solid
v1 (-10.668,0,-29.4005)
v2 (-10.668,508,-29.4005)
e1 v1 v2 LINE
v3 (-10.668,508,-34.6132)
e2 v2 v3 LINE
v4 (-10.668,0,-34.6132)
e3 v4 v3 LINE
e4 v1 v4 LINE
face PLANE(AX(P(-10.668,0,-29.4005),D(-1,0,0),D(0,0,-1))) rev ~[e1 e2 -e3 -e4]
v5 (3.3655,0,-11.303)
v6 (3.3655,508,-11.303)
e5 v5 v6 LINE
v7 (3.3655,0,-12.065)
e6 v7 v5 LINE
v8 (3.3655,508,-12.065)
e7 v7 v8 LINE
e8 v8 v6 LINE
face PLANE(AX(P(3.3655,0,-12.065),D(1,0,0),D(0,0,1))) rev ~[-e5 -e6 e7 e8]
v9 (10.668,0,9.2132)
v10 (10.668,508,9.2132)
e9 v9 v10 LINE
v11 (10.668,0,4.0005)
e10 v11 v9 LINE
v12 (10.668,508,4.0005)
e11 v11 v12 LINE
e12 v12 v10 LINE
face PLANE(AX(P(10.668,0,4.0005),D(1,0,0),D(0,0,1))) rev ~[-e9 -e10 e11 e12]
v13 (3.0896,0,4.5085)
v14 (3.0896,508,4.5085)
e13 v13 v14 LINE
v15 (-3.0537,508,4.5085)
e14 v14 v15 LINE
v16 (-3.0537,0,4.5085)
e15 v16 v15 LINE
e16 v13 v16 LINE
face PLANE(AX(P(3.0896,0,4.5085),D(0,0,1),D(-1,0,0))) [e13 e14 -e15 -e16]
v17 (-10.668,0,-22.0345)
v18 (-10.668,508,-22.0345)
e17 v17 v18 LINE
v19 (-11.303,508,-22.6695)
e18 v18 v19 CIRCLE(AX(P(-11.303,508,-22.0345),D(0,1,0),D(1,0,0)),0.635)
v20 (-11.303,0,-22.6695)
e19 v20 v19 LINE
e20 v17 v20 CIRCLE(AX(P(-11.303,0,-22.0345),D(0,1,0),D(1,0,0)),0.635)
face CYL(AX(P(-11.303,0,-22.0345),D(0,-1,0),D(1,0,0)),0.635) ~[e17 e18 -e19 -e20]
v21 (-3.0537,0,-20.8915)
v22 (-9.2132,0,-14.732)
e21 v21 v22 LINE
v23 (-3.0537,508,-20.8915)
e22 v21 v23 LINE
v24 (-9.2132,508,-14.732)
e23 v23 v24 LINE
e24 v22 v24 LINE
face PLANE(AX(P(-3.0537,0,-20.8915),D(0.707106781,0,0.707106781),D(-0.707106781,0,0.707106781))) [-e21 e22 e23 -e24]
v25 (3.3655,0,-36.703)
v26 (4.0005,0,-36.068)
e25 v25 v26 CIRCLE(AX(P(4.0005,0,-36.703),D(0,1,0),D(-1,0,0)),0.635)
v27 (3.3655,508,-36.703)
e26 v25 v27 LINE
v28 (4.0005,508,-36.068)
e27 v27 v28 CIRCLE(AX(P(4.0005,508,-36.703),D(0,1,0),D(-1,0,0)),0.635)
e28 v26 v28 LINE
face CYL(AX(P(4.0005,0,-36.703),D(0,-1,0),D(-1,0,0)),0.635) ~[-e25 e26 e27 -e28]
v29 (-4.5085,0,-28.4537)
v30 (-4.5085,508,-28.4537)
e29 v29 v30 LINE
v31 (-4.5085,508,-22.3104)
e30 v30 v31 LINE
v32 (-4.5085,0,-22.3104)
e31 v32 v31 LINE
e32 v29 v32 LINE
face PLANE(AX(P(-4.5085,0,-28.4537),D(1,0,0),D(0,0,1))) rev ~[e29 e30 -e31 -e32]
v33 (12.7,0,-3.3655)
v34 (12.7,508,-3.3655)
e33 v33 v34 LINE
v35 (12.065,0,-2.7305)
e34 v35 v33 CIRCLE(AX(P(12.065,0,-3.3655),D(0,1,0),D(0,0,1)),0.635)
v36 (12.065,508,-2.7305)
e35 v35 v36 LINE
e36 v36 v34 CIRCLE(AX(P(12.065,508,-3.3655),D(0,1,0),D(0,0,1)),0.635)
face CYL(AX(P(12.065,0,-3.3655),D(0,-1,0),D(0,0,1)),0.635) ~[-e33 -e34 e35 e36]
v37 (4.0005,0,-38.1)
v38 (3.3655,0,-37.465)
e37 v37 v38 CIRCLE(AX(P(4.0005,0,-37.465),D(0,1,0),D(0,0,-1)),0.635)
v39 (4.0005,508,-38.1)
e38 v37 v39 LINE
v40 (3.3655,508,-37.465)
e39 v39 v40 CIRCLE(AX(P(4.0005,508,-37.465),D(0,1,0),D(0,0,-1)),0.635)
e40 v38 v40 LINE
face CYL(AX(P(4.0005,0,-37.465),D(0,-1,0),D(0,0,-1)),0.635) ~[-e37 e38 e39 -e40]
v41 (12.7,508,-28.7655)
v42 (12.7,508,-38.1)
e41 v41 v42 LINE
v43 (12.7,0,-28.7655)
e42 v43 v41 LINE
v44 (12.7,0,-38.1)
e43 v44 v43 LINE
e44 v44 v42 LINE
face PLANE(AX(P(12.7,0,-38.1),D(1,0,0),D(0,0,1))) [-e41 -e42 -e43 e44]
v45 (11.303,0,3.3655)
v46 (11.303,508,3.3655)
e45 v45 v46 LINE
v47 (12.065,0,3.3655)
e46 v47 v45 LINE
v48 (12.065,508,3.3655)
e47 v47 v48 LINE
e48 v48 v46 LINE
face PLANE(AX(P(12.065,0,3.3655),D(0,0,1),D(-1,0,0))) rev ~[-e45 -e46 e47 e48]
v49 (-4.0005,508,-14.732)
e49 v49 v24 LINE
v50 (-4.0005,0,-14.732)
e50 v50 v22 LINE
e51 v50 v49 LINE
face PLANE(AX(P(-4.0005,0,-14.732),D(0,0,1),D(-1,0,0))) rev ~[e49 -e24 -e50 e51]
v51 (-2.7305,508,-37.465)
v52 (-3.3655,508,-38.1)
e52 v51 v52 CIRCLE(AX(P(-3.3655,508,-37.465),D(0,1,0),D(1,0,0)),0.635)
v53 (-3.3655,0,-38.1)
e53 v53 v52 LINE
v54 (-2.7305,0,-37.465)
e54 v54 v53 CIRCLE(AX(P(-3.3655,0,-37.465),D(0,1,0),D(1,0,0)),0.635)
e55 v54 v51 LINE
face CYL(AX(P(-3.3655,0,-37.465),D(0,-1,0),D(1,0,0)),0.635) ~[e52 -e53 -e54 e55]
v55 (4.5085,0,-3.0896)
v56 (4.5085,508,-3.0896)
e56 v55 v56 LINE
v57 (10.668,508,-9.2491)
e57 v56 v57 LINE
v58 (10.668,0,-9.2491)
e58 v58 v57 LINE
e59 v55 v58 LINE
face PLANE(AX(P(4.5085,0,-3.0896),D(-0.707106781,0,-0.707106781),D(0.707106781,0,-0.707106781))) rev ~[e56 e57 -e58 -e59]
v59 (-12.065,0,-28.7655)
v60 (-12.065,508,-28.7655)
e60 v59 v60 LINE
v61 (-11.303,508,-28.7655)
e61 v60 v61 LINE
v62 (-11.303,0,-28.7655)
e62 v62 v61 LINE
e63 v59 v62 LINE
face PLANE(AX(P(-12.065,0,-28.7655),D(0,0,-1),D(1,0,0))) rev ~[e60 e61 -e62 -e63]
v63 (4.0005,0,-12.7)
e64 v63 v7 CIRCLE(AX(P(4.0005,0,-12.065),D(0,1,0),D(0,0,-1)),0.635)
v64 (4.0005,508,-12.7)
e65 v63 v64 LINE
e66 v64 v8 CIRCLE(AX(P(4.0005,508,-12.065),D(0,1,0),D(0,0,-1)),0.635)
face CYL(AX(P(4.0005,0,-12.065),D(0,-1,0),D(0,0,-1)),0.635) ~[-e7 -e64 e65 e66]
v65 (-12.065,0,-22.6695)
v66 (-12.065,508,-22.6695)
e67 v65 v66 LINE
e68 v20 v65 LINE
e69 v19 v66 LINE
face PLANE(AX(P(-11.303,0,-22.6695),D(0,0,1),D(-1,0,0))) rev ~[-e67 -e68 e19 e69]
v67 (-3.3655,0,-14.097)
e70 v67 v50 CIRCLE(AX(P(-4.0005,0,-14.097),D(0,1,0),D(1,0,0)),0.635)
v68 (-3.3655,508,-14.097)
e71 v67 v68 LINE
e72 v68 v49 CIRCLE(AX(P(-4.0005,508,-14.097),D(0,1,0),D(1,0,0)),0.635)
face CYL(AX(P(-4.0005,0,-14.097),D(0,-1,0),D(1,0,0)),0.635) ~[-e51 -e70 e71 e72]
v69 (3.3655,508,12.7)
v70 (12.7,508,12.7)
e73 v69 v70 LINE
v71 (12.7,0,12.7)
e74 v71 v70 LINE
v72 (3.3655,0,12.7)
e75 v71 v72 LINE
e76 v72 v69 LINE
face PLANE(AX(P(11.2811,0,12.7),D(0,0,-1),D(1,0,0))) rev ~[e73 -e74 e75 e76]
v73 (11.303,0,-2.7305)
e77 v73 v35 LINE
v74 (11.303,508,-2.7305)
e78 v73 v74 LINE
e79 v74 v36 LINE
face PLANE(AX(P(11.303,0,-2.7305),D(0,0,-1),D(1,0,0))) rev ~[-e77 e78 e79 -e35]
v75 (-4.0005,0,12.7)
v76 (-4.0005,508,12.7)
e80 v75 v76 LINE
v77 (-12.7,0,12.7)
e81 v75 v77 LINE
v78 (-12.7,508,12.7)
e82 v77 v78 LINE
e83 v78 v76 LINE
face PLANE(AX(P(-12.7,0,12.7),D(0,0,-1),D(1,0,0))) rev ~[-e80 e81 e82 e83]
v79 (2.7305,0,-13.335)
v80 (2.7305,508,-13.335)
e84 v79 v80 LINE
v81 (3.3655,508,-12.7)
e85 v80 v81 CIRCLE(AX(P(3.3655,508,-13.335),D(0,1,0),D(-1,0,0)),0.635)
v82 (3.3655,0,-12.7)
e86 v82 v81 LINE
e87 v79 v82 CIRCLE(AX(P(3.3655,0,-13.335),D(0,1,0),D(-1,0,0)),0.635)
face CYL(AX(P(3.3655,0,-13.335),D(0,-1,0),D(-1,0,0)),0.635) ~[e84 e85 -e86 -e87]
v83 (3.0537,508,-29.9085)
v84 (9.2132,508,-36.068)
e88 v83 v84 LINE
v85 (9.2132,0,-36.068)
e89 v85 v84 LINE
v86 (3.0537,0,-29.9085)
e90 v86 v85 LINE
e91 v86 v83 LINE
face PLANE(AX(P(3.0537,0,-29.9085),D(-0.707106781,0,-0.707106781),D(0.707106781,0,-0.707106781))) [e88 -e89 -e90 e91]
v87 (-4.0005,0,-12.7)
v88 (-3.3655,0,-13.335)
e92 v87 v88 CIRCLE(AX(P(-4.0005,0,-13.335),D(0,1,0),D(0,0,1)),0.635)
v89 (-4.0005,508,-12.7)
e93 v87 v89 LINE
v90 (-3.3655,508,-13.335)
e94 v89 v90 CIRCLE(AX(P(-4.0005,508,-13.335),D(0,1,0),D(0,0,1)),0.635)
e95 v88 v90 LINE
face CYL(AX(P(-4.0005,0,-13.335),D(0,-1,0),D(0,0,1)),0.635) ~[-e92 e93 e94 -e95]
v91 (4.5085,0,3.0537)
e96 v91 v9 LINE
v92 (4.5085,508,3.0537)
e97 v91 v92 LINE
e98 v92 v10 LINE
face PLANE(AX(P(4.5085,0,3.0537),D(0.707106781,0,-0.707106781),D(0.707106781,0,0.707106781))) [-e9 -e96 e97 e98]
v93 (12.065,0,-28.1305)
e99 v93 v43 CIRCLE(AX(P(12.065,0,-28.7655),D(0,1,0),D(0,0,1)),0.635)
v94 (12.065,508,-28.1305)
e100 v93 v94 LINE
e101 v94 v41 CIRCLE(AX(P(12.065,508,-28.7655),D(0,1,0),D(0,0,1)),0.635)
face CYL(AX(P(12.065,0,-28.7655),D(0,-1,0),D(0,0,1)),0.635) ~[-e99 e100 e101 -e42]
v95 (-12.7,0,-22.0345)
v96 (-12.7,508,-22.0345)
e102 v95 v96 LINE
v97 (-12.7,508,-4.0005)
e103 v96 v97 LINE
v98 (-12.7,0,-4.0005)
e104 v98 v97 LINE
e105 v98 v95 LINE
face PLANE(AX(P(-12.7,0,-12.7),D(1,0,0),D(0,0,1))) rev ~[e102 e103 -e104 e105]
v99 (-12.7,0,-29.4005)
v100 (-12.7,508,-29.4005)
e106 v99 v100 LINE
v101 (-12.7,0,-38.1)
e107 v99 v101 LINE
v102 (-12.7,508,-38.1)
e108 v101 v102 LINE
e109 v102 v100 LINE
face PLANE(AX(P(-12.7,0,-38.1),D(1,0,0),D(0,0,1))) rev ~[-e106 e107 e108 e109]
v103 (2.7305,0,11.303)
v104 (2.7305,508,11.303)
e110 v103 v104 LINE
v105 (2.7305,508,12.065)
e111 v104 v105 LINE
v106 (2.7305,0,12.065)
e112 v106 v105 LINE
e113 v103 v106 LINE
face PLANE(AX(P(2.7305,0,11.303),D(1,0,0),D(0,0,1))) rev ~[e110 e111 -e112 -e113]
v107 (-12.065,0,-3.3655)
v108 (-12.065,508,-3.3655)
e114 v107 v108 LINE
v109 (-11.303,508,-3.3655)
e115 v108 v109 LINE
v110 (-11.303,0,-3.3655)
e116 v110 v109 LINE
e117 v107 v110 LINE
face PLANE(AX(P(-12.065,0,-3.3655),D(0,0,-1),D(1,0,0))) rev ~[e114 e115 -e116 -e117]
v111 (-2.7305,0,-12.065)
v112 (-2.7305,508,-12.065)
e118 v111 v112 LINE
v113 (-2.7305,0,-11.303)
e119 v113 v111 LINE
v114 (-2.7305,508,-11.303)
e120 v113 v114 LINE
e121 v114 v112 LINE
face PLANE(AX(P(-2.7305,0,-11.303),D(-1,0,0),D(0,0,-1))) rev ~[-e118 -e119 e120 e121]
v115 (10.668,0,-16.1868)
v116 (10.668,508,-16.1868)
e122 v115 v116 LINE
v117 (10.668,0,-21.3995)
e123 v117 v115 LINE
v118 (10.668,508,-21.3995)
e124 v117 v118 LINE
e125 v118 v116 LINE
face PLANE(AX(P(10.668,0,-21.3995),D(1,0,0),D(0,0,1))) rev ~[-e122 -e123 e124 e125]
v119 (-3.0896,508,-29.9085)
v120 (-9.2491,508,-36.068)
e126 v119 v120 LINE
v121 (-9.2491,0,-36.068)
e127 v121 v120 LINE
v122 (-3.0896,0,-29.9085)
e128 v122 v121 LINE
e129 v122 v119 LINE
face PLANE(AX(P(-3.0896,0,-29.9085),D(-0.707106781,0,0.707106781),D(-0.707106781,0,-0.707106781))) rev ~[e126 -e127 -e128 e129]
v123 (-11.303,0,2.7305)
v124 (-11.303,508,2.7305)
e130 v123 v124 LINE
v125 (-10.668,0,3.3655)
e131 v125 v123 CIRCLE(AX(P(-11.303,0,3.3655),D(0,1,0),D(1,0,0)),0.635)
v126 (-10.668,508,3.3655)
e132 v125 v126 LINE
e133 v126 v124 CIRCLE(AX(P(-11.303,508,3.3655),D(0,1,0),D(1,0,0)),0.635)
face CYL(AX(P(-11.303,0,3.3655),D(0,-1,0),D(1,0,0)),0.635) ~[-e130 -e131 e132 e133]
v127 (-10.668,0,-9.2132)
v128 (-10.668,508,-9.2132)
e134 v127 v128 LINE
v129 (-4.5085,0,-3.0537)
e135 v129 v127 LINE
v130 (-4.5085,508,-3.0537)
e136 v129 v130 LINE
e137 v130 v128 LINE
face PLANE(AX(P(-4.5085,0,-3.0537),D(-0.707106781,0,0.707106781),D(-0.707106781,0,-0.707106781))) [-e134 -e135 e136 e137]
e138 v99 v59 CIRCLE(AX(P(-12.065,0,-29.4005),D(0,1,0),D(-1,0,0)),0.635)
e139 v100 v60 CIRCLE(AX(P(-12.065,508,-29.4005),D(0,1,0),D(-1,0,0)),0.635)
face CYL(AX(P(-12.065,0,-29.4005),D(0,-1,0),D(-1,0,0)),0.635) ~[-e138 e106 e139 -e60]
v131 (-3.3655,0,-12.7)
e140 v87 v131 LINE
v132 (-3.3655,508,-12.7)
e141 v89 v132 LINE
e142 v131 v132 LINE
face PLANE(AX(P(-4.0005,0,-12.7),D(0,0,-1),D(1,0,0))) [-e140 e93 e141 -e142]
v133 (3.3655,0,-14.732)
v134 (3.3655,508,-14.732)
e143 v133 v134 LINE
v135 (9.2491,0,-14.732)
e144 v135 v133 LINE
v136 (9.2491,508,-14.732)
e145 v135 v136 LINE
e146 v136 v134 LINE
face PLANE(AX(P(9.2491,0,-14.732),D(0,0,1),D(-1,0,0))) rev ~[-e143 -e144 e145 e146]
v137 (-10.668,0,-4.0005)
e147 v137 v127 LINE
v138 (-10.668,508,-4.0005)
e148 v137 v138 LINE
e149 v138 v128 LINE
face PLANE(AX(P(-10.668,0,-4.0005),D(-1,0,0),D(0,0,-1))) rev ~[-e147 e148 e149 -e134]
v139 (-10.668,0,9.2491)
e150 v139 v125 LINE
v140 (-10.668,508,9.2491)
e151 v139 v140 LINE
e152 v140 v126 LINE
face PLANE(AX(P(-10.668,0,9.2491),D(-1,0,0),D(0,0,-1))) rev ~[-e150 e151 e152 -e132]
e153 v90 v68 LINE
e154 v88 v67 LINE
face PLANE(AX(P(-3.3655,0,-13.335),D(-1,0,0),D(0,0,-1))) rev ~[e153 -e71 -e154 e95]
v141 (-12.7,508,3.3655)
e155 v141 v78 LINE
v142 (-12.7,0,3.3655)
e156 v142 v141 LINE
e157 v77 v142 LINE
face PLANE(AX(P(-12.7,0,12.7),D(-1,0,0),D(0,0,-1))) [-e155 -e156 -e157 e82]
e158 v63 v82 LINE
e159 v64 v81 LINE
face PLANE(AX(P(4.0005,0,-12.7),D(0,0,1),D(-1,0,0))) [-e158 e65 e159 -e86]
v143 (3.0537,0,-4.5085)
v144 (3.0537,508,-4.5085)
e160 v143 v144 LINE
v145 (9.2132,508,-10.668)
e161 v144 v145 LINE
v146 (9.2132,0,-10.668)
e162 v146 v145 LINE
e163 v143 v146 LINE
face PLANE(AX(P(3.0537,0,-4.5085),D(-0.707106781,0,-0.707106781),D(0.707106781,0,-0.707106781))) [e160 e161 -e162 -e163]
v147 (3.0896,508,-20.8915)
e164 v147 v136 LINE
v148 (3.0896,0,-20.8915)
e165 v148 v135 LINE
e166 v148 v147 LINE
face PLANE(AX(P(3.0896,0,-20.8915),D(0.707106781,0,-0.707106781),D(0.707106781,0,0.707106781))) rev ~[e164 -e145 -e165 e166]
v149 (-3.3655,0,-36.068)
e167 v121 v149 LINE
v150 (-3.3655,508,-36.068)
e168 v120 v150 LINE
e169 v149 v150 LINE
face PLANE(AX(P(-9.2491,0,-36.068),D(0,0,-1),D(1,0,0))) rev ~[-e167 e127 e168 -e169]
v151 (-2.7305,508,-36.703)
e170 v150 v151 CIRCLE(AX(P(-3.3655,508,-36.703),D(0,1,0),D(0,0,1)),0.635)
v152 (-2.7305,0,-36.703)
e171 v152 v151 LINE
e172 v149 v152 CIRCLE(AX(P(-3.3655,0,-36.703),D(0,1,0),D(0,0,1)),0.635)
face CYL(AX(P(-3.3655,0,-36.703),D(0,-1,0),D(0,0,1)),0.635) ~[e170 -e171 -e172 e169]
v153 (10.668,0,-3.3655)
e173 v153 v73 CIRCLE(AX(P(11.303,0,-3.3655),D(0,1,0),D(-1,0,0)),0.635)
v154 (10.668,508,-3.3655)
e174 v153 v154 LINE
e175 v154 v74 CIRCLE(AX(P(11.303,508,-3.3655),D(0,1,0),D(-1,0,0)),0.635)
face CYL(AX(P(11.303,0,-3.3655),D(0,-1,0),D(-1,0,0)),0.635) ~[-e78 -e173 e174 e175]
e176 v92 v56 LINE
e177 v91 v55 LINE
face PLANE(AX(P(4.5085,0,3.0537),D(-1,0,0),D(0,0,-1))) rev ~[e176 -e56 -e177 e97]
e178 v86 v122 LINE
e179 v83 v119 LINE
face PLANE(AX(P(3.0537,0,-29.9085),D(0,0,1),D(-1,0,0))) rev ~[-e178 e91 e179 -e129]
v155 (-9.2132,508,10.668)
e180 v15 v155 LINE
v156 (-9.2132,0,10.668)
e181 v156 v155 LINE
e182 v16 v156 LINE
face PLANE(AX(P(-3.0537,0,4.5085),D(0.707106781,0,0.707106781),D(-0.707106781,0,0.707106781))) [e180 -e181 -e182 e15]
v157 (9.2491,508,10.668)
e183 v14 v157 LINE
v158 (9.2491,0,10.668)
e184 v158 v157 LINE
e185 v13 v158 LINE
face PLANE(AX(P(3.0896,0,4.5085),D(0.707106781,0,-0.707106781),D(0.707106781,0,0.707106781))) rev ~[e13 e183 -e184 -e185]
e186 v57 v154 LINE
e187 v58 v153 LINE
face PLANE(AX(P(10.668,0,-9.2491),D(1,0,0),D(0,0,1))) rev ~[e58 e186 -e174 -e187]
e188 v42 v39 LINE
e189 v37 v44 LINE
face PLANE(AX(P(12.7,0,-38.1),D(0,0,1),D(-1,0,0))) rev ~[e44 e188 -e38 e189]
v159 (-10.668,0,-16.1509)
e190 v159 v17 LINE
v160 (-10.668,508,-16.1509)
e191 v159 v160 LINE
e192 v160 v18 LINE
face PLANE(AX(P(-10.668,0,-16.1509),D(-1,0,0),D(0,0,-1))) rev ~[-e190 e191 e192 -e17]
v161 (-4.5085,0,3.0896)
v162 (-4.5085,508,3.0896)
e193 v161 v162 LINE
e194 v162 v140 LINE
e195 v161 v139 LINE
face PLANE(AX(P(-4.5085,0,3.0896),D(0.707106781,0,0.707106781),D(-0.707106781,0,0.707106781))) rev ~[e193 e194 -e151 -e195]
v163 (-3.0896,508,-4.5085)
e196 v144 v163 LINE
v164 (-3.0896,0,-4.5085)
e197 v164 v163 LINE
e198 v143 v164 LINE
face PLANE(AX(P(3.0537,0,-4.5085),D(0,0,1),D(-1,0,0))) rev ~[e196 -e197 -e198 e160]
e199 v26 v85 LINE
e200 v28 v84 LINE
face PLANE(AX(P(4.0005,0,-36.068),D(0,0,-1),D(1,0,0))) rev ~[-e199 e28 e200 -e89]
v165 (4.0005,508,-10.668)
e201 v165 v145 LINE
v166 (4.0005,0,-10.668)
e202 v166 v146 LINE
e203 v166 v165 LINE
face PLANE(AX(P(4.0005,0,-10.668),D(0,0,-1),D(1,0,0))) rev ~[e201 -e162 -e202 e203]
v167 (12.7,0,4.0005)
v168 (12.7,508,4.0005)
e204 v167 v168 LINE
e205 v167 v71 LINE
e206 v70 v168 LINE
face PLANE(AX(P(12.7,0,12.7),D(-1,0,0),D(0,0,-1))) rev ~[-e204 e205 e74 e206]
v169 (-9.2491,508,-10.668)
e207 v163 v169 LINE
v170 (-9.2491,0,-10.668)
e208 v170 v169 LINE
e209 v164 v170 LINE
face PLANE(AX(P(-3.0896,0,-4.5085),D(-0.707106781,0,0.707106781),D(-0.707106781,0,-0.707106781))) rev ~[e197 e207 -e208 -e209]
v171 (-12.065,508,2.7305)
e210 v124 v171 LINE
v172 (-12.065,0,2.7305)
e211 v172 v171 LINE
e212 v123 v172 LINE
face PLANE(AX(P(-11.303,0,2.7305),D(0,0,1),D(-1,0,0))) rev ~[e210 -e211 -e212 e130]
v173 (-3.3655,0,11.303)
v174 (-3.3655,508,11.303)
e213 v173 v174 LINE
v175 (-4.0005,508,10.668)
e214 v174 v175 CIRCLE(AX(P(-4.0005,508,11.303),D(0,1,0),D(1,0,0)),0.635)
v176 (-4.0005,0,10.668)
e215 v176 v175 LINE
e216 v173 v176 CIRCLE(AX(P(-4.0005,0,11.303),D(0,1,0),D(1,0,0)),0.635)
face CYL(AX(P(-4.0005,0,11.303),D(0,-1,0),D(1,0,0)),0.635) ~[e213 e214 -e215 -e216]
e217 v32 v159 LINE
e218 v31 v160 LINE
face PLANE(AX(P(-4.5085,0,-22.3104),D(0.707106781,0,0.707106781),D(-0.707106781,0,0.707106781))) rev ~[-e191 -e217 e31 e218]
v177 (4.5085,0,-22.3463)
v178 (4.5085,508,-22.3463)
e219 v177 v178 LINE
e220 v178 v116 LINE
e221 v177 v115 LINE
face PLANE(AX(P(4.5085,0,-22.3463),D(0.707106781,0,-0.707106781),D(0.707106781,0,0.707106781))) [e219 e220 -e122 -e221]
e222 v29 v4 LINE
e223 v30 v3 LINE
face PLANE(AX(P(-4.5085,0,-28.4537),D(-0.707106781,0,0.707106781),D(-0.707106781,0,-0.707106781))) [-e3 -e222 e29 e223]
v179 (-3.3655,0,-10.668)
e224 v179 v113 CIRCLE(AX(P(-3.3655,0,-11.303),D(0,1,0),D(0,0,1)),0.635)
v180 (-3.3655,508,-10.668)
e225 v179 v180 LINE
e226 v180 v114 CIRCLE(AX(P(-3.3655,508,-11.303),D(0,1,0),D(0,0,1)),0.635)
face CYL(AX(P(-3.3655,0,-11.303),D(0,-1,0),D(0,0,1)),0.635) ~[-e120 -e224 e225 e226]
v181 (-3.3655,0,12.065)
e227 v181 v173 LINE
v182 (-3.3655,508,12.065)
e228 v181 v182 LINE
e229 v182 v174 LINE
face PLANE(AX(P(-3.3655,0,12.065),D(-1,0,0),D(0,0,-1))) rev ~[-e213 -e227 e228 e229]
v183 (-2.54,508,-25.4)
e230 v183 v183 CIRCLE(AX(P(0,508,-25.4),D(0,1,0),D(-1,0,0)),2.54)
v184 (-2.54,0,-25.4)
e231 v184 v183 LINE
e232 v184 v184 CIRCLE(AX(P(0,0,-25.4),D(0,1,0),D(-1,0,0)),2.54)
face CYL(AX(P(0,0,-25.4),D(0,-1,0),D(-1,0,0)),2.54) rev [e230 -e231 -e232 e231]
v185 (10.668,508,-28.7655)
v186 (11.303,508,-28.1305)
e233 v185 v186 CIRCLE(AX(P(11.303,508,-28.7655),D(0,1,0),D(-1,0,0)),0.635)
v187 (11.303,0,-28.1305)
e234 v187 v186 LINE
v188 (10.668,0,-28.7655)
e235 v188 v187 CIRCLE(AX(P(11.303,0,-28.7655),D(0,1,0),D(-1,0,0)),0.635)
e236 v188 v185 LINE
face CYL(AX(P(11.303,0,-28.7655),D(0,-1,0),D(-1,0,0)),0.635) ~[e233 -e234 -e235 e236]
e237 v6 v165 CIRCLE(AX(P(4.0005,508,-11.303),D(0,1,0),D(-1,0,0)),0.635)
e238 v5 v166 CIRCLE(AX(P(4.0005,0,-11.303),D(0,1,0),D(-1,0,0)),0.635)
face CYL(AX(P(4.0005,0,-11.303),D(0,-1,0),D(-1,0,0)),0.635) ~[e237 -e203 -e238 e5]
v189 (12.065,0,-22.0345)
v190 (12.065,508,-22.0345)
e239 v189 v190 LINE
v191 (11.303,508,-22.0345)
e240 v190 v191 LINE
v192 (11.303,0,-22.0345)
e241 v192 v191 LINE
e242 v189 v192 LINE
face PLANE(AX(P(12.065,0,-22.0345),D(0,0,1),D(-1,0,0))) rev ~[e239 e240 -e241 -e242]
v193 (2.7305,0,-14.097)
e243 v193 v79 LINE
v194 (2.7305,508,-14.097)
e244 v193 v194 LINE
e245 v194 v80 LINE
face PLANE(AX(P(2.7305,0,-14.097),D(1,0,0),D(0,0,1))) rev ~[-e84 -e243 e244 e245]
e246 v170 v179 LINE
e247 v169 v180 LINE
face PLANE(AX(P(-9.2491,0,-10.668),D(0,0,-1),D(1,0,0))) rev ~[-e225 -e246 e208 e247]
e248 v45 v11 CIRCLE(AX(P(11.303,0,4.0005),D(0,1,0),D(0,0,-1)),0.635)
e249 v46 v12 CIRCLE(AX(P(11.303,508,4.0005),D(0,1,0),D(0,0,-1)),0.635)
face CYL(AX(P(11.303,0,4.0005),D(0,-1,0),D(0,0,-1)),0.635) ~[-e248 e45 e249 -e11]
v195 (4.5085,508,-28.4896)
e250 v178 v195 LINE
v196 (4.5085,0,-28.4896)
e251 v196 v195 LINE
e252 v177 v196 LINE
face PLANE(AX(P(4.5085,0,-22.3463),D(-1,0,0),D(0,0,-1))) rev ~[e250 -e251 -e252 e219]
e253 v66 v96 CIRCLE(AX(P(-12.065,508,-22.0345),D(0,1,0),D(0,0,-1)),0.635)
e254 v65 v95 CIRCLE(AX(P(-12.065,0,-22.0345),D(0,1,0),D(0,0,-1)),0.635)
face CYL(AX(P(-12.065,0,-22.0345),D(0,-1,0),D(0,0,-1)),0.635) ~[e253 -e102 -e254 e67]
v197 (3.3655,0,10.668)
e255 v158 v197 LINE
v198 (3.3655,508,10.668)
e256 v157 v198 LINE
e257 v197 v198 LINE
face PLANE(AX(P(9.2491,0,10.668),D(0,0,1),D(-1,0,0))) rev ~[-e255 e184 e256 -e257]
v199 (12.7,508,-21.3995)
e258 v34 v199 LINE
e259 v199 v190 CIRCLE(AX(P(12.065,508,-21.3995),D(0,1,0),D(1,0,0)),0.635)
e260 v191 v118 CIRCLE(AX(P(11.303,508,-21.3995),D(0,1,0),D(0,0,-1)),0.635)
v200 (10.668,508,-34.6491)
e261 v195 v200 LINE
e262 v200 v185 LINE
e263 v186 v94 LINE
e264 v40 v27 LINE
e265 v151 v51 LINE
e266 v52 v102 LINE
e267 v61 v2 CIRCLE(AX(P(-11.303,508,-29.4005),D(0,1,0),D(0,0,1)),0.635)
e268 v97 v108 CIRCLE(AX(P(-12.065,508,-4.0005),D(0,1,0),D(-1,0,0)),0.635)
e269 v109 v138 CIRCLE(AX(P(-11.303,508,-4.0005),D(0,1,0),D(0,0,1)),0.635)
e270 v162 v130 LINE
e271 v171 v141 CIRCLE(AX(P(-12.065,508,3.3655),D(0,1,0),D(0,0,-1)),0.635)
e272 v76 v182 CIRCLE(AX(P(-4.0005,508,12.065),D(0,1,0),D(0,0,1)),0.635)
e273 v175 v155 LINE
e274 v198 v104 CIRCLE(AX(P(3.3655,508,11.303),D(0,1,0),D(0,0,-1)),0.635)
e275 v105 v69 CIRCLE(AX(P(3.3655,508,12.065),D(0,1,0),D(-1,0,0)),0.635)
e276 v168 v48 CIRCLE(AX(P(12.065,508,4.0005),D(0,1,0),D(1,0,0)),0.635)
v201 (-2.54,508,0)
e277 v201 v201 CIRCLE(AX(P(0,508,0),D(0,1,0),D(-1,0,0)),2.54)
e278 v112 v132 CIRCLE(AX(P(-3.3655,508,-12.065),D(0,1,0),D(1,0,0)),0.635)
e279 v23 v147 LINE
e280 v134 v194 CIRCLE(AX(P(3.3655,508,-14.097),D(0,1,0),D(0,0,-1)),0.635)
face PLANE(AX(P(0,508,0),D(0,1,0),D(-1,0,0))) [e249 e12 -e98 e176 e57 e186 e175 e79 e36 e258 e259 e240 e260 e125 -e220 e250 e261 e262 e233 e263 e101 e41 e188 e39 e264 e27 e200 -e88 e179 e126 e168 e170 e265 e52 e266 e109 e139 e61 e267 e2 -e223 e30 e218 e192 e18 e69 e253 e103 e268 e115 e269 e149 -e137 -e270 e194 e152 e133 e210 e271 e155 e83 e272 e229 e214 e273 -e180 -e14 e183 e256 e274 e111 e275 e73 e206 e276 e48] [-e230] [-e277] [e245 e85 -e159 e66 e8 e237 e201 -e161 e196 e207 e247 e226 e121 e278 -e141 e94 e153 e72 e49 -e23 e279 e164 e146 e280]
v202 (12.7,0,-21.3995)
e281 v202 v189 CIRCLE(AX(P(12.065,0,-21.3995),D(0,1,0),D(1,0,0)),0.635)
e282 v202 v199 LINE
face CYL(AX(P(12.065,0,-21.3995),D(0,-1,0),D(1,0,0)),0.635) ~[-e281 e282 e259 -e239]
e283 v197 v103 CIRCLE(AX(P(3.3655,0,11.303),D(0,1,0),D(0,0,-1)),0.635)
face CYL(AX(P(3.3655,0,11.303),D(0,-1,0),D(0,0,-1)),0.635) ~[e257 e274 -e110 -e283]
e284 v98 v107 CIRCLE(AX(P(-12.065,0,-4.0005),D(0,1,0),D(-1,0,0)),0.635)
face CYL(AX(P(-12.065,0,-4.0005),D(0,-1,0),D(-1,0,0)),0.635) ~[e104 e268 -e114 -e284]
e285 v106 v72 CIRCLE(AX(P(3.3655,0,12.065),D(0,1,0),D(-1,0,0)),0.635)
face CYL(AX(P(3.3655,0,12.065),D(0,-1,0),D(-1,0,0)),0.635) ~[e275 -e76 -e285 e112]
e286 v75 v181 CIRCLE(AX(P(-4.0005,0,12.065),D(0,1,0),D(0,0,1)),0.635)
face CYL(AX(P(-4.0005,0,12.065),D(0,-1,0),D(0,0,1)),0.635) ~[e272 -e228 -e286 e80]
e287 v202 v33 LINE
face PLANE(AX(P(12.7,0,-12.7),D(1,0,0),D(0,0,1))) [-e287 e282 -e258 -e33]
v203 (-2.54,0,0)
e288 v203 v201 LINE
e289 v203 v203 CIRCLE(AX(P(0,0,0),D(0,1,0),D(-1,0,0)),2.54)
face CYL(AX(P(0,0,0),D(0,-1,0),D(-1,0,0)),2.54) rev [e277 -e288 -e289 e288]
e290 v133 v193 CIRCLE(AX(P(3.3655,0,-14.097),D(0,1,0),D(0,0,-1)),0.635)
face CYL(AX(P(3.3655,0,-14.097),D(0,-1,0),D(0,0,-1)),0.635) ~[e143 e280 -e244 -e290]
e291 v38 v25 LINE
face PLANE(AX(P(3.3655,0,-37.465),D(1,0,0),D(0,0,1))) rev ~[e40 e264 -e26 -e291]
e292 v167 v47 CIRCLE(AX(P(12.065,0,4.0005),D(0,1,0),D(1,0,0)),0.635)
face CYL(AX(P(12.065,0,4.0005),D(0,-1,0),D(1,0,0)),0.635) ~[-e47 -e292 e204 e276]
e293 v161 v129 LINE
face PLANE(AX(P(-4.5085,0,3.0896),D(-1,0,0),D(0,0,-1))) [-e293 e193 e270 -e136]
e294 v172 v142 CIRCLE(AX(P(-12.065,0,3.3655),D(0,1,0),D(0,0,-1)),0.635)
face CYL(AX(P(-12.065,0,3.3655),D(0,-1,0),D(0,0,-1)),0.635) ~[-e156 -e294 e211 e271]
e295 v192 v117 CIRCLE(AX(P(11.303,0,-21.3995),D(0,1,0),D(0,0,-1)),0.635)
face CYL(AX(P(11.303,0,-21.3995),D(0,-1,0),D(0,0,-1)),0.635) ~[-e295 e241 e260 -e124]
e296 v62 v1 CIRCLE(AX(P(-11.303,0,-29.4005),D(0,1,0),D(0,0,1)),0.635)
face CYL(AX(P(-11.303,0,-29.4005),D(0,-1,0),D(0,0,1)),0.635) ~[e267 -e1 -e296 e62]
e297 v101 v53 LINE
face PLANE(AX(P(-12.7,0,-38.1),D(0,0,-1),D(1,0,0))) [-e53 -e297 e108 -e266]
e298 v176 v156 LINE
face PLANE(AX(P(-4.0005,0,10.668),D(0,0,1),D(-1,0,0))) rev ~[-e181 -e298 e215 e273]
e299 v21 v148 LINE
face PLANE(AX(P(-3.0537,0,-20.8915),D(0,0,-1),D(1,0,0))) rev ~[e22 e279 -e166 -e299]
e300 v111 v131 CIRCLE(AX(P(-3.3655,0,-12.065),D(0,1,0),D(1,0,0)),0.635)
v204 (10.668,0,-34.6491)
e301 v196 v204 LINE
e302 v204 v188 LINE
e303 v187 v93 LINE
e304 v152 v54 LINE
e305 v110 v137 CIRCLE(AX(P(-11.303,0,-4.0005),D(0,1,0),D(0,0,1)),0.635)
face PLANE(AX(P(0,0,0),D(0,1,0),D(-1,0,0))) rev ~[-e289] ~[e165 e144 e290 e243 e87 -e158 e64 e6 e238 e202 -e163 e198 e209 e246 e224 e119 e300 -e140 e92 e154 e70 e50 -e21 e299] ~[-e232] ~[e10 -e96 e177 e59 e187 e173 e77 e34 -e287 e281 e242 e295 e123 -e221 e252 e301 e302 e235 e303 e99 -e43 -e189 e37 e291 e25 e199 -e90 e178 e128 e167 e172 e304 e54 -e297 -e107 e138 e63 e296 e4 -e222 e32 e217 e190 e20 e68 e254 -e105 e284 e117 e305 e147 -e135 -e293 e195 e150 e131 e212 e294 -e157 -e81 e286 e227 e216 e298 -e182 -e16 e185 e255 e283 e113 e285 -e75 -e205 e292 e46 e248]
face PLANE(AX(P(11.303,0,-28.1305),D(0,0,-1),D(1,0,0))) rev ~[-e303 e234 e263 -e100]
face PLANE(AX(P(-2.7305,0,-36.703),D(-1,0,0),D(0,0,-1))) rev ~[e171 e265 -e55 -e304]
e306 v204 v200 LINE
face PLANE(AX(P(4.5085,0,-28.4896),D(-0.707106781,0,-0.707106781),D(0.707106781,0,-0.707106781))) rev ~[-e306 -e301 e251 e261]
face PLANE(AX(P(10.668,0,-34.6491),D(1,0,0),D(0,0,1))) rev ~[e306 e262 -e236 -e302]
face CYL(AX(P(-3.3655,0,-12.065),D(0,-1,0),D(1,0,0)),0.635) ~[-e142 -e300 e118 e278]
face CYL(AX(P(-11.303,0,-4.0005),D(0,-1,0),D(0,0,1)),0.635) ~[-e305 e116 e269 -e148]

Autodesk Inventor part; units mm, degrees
ref_plane "YZ Plane" through (0, 0, 0) normal (1, 0, 0) x (0, 1, 0)
ref_plane "XZ Plane" through (0, 0, 0) normal (0, 1, 0) x (-1, 0, 0)
ref_plane "XY Plane" through (0, 0, 0) normal (0, 0, 1) x (1, 0, 0)
sketch "Sketch1" plane through (0, 0, 0) normal (0, 1, 0) x (-1, 0, 0)
  circle A0 centre (0, 0) radius 2.54
  line L0 (-4.5085, 4.5085) -> (4.5085, 4.5085)
  line L1 (-4.5085, -4.5085) -> (4.5085, -4.5085)
  line L2 (4.5085, 4.5085) -> (4.5085, -4.5085)
  line L3 (-4.5085, 4.5085) -> (-4.5085, -4.5085)
  line L4 (-3.0896, 4.5085) -> (-11.2811, 12.7)
  line L5 (-4.5085, 3.0537) -> (-12.7, 11.2452)
  line L6 (12.7, 12.7) -> (-12.7, 12.7)
  line L7 (-12.7, 12.7) -> (-12.7, 4.0005)
  line L8 (-10.668, 4.0005) -> (-10.668, 9.2132)
  line L9 (-9.2491, 10.668) -> (-3.3655, 10.668)
  line L10 (-12.7, 12.7) -> (-3.3655, 12.7)
  line L11 (-2.7305, 11.303) -> (-2.7305, 12.065)
  line L12 (-12.065, 3.3655) -> (-11.303, 3.3655)
  arc A1 (-12.7, 4.0005) -> (-12.065, 3.3655) centre (-12.065, 4.0005) ccw
  arc A2 (-11.303, 3.3655) -> (-10.668, 4.0005) centre (-11.303, 4.0005) ccw
  arc A3 (-3.3655, 10.668) -> (-2.7305, 11.303) centre (-3.3655, 11.303) ccw
  arc A4 (-2.7305, 12.065) -> (-3.3655, 12.7) centre (-3.3655, 12.065) ccw
  arc A5 (-3.3655, -11.303) -> (-4.0005, -10.668) centre (-4.0005, -11.303) ccw
  line L13 (-3.3655, -12.065) -> (-3.3655, -11.303)
  arc A6 (-4.0005, -12.7) -> (-3.3655, -12.065) centre (-4.0005, -12.065) ccw
  line L14 (-3.0537, -4.5085) -> (-11.2452, -12.7)
  line L15 (-10.668, -9.2491) -> (-10.668, -3.3655)
  line L16 (-4.5085, -3.0896) -> (-12.7, -11.2811)
  line L17 (-12.7, -12.7) -> (-12.7, -3.3655)
  arc A7 (-10.668, -3.3655) -> (-11.303, -2.7305) centre (-11.303, -3.3655) ccw
  line L18 (-11.303, -2.7305) -> (-12.065, -2.7305)
  arc A8 (-12.065, -2.7305) -> (-12.7, -3.3655) centre (-12.065, -3.3655) ccw
  line L19 (-4.0005, -10.668) -> (-9.2132, -10.668)
  line L20 (-12.7, -12.7) -> (-4.0005, -12.7)
  arc A9 (11.303, -3.3655) -> (10.668, -4.0005) centre (11.303, -4.0005) ccw
  line L21 (12.065, -3.3655) -> (11.303, -3.3655)
  arc A10 (12.7, -4.0005) -> (12.065, -3.3655) centre (12.065, -4.0005) ccw
  line L22 (4.5085, -3.0537) -> (12.7, -11.2452)
  line L23 (9.2491, -10.668) -> (3.3655, -10.668)
  line L24 (3.0896, -4.5085) -> (11.2811, -12.7)
  line L25 (12.7, -12.7) -> (3.3655, -12.7)
  arc A11 (3.3655, -10.668) -> (2.7305, -11.303) centre (3.3655, -11.303) ccw
  line L26 (2.7305, -11.303) -> (2.7305, -12.065)
  arc A12 (2.7305, -12.065) -> (3.3655, -12.7) centre (3.3655, -12.065) ccw
  line L27 (10.668, -4.0005) -> (10.668, -9.2132)
  line L28 (12.7, -12.7) -> (12.7, -4.0005)
  arc A13 (3.3655, 11.303) -> (4.0005, 10.668) centre (4.0005, 11.303) ccw
  line L29 (3.3655, 12.065) -> (3.3655, 11.303)
  arc A14 (4.0005, 12.7) -> (3.3655, 12.065) centre (4.0005, 12.065) ccw
  line L30 (3.0537, 4.5085) -> (11.2452, 12.7)
  line L31 (10.668, 9.2491) -> (10.668, 3.3655)
  line L32 (4.5085, 3.0896) -> (12.7, 11.2811)
  line L33 (12.7, 12.7) -> (12.7, 3.3655)
  arc A15 (10.668, 3.3655) -> (11.303, 2.7305) centre (11.303, 3.3655) ccw
  line L34 (11.303, 2.7305) -> (12.065, 2.7305)
  arc A16 (12.065, 2.7305) -> (12.7, 3.3655) centre (12.065, 3.3655) ccw
  line L35 (4.0005, 10.668) -> (9.2132, 10.668)
  line L36 (12.7, 12.7) -> (4.0005, 12.7)
  line L37 (-4.5085, 3.0537) -> (-4.5085, 4.5085)
  line L38 (-3.0896, 4.5085) -> (-4.5085, 4.5085)
  line L39 (-12.7, -12.7) -> (-4.0005, -12.7)
  line L40 (-4.0005, -10.668) -> (-9.2132, -10.668)
  line L41 (-10.668, -9.2491) -> (-10.668, -3.3655)
  line L42 (-12.7, -12.7) -> (-12.7, -3.3655)
  line L43 (-11.303, -2.7305) -> (-12.065, -2.7305)
  arc A17 (-10.668, -3.3655) -> (-11.303, -2.7305) centre (-11.303, -3.3655) ccw
  arc A18 (-12.065, -2.7305) -> (-12.7, -3.3655) centre (-12.065, -3.3655) ccw
  line L44 (-4.5085, -3.0896) -> (-4.5085, -4.5085)
  line L45 (-4.5085, -3.0896) -> (-12.7, -11.2811)
  line L46 (-3.0537, -4.5085) -> (-4.5085, -4.5085)
  line L47 (-3.0537, -4.5085) -> (-11.2452, -12.7)
  line L48 (-4.5085, -4.5085) -> (-4.5085, 4.5085)
  circle A19 centre (0, 0) radius 2.54
  line L49 (-4.5085, -4.5085) -> (4.5085, -4.5085)
  line L50 (-3.3655, -12.065) -> (-3.3655, -11.303)
  arc A20 (-4.0005, -12.7) -> (-3.3655, -12.065) centre (-4.0005, -12.065) ccw
  arc A21 (-3.3655, -11.303) -> (-4.0005, -10.668) centre (-4.0005, -11.303) ccw
  line L51 (12.7, -12.7) -> (12.7, -4.0005)
  line L52 (10.668, -4.0005) -> (10.668, -9.2132)
  line L53 (9.2491, -10.668) -> (3.3655, -10.668)
  line L54 (12.7, -12.7) -> (3.3655, -12.7)
  line L55 (2.7305, -11.303) -> (2.7305, -12.065)
  arc A22 (3.3655, -10.668) -> (2.7305, -11.303) centre (3.3655, -11.303) ccw
  arc A23 (2.7305, -12.065) -> (3.3655, -12.7) centre (3.3655, -12.065) ccw
  line L56 (3.0896, -4.5085) -> (4.5085, -4.5085)
  line L57 (3.0896, -4.5085) -> (11.2811, -12.7)
  line L58 (4.5085, -3.0537) -> (4.5085, -4.5085)
  line L59 (4.5085, -3.0537) -> (12.7, -11.2452)
  line L60 (4.5085, -4.5085) -> (-4.5085, -4.5085)
  circle A24 centre (0, 0) radius 2.54
  line L61 (4.5085, -4.5085) -> (4.5085, 4.5085)
  line L62 (12.065, -3.3655) -> (11.303, -3.3655)
  arc A25 (12.7, -4.0005) -> (12.065, -3.3655) centre (12.065, -4.0005) ccw
  arc A26 (11.303, -3.3655) -> (10.668, -4.0005) centre (11.303, -4.0005) ccw
  line L63 (12.7, 12.7) -> (4.0005, 12.7)
  line L64 (4.0005, 10.668) -> (9.2132, 10.668)
  line L65 (10.668, 9.2491) -> (10.668, 3.3655)
  line L66 (12.7, 12.7) -> (12.7, 3.3655)
  line L67 (11.303, 2.7305) -> (12.065, 2.7305)
  arc A27 (10.668, 3.3655) -> (11.303, 2.7305) centre (11.303, 3.3655) ccw
  arc A28 (12.065, 2.7305) -> (12.7, 3.3655) centre (12.065, 3.3655) ccw
  line L68 (4.5085, 3.0896) -> (4.5085, 4.5085)
  line L69 (4.5085, 3.0896) -> (12.7, 11.2811)
  line L70 (3.0537, 4.5085) -> (4.5085, 4.5085)
  line L71 (3.0537, 4.5085) -> (11.2452, 12.7)
  line L72 (4.5085, 4.5085) -> (4.5085, -4.5085)
  circle A29 centre (0, 0) radius 2.54
  line L73 (4.5085, 4.5085) -> (-4.5085, 4.5085)
  line L74 (3.3655, 12.065) -> (3.3655, 11.303)
  arc A30 (4.0005, 12.7) -> (3.3655, 12.065) centre (4.0005, 12.065) ccw
  arc A31 (3.3655, 11.303) -> (4.0005, 10.668) centre (4.0005, 11.303) ccw
  line L75 (4.0005, -14.732) -> (9.2132, -14.732)
  line L76 (4.0005, -14.732) -> (9.2132, -14.732)
  arc A32 (3.3655, -14.097) -> (4.0005, -14.732) centre (4.0005, -14.097) ccw
  arc A33 (3.3655, -14.097) -> (4.0005, -14.732) centre (4.0005, -14.097) ccw
  line L77 (3.3655, -13.335) -> (3.3655, -14.097)
  line L78 (3.3655, -13.335) -> (3.3655, -14.097)
  line L79 (10.668, -16.1509) -> (10.668, -22.0345)
  line L80 (10.668, -16.1509) -> (10.668, -22.0345)
  line L81 (3.0537, -20.8915) -> (11.2452, -12.7)
  line L82 (3.0537, -20.8915) -> (11.2452, -12.7)
  line L83 (4.5085, -22.3104) -> (12.7, -14.1189)
  line L84 (4.5085, -22.3104) -> (12.7, -14.1189)
  line L85 (12.7, -12.7) -> (12.7, -22.0345)
  line L86 (12.7, -12.7) -> (12.7, -22.0345)
  line L87 (12.7, -12.7) -> (4.0005, -12.7)
  line L88 (12.7, -12.7) -> (4.0005, -12.7)
  circle A34 centre (0, -25.4) radius 2.54
  circle A35 centre (0, -25.4) radius 2.54
  circle A36 centre (0, -25.4) radius 2.54
  circle A37 centre (0, -25.4) radius 2.54
  line L89 (4.5085, -20.8915) -> (-4.5085, -20.8915)
  line L90 (-4.5085, -20.8915) -> (4.5085, -20.8915)
  line L91 (-4.5085, -20.8915) -> (-4.5085, -29.9085)
  line L92 (-4.5085, -29.9085) -> (-4.5085, -20.8915)
  line L93 (3.0537, -20.8915) -> (4.5085, -20.8915)
  line L94 (4.5085, -29.9085) -> (4.5085, -20.8915)
  line L95 (4.5085, -20.8915) -> (4.5085, -29.9085)
  line L96 (4.5085, -20.8915) -> (4.5085, -29.9085)
  line L97 (-4.5085, -28.4896) -> (-4.5085, -29.9085)
  line L98 (-3.0537, -29.9085) -> (-4.5085, -29.9085)
  line L99 (-4.5085, -29.9085) -> (4.5085, -29.9085)
  line L100 (4.5085, -29.9085) -> (-4.5085, -29.9085)
  line L101 (-4.5085, -29.9085) -> (4.5085, -29.9085)
  line L102 (4.5085, -22.3104) -> (4.5085, -20.8915)
  line L103 (-4.5085, -22.3463) -> (-4.5085, -20.8915)
  arc A38 (-4.0005, -38.1) -> (-3.3655, -37.465) centre (-4.0005, -37.465) ccw
  arc A39 (-4.0005, -38.1) -> (-3.3655, -37.465) centre (-4.0005, -37.465) ccw
  line L104 (-10.668, -34.6491) -> (-10.668, -28.7655)
  line L105 (-10.668, -34.6491) -> (-10.668, -28.7655)
  line L106 (-3.3655, -37.465) -> (-3.3655, -36.703)
  line L107 (-3.3655, -37.465) -> (-3.3655, -36.703)
  arc A40 (-3.3655, -36.703) -> (-4.0005, -36.068) centre (-4.0005, -36.703) ccw
  arc A41 (-3.3655, -36.703) -> (-4.0005, -36.068) centre (-4.0005, -36.703) ccw
  line L108 (-12.7, -38.1) -> (-4.0005, -38.1)
  line L109 (-12.7, -38.1) -> (-4.0005, -38.1)
  line L110 (-3.0537, -29.9085) -> (-11.2452, -38.1)
  line L111 (-3.0537, -29.9085) -> (-11.2452, -38.1)
  line L112 (-4.5085, -28.4896) -> (-12.7, -36.6811)
  line L113 (-4.5085, -28.4896) -> (-12.7, -36.6811)
  line L114 (-12.7, -38.1) -> (-12.7, -28.7655)
  line L115 (-12.7, -38.1) -> (-12.7, -28.7655)
  line L116 (-4.0005, -36.068) -> (-9.2132, -36.068)
  line L117 (-4.0005, -36.068) -> (-9.2132, -36.068)
  line L118 (12.065, -28.7655) -> (11.303, -28.7655)
  line L119 (12.065, -28.7655) -> (11.303, -28.7655)
  arc A42 (11.303, -28.7655) -> (10.668, -29.4005) centre (11.303, -29.4005) ccw
  arc A43 (11.303, -28.7655) -> (10.668, -29.4005) centre (11.303, -29.4005) ccw
  line L120 (10.668, -29.4005) -> (10.668, -34.6132)
  line L121 (10.668, -29.4005) -> (10.668, -34.6132)
  line L122 (12.7, -38.1) -> (12.7, -29.4005)
  line L123 (12.7, -38.1) -> (12.7, -29.4005)
  line L124 (4.5085, -28.4537) -> (12.7, -36.6452)
  line L125 (4.5085, -28.4537) -> (12.7, -36.6452)
  line L126 (3.0896, -29.9085) -> (11.2811, -38.1)
  line L127 (3.0896, -29.9085) -> (11.2811, -38.1)
  line L128 (12.7, -38.1) -> (3.3655, -38.1)
  line L129 (12.7, -38.1) -> (3.3655, -38.1)
  line L130 (9.2491, -36.068) -> (3.3655, -36.068)
  line L131 (9.2491, -36.068) -> (3.3655, -36.068)
  arc A44 (12.7, -29.4005) -> (12.065, -28.7655) centre (12.065, -29.4005) ccw
  arc A45 (12.7, -29.4005) -> (12.065, -28.7655) centre (12.065, -29.4005) ccw
  line L132 (4.5085, -28.4537) -> (4.5085, -29.9085)
  line L133 (3.0896, -29.9085) -> (4.5085, -29.9085)
  arc A46 (10.668, -22.0345) -> (11.303, -22.6695) centre (11.303, -22.0345) ccw
  arc A47 (10.668, -22.0345) -> (11.303, -22.6695) centre (11.303, -22.0345) ccw
  line L134 (11.303, -22.6695) -> (12.065, -22.6695)
  line L135 (11.303, -22.6695) -> (12.065, -22.6695)
  arc A48 (12.065, -22.6695) -> (12.7, -22.0345) centre (12.065, -22.0345) ccw
  arc A49 (12.065, -22.6695) -> (12.7, -22.0345) centre (12.065, -22.0345) ccw
  line L136 (-2.7305, -14.097) -> (-2.7305, -13.335)
  arc A50 (-3.3655, -14.732) -> (-2.7305, -14.097) centre (-3.3655, -14.097) ccw
  arc A51 (-2.7305, -13.335) -> (-3.3655, -12.7) centre (-3.3655, -13.335) ccw
  arc A52 (4.0005, -12.7) -> (3.3655, -13.335) centre (4.0005, -13.335) ccw
  arc A53 (4.0005, -12.7) -> (3.3655, -13.335) centre (4.0005, -13.335) ccw
  line L137 (-3.0896, -20.8915) -> (-11.2811, -12.7)
  line L138 (-12.7, -12.7) -> (-12.7, -21.3995)
  line L139 (-10.668, -21.3995) -> (-10.668, -16.1868)
  line L140 (-9.2491, -14.732) -> (-3.3655, -14.732)
  line L141 (-12.7, -12.7) -> (-3.3655, -12.7)
  line L142 (-3.0896, -20.8915) -> (-4.5085, -20.8915)
  line L143 (-12.065, -22.0345) -> (-11.303, -22.0345)
  arc A54 (-12.7, -21.3995) -> (-12.065, -22.0345) centre (-12.065, -21.3995) ccw
  arc A55 (-11.303, -22.0345) -> (-10.668, -21.3995) centre (-11.303, -21.3995) ccw
  arc A56 (-10.668, -28.7655) -> (-11.303, -28.1305) centre (-11.303, -28.7655) ccw
  line L144 (-11.303, -28.1305) -> (-12.065, -28.1305)
  arc A57 (-12.065, -28.1305) -> (-12.7, -28.7655) centre (-12.065, -28.7655) ccw
  arc A58 (-10.668, -28.7655) -> (-11.303, -28.1305) centre (-11.303, -28.7655) ccw
  arc A59 (-12.065, -28.1305) -> (-12.7, -28.7655) centre (-12.065, -28.7655) ccw
  line L145 (-11.303, -28.1305) -> (-12.065, -28.1305)
  arc A60 (3.3655, -36.068) -> (2.7305, -36.703) centre (3.3655, -36.703) ccw
  line L146 (2.7305, -36.703) -> (2.7305, -37.465)
  arc A61 (2.7305, -37.465) -> (3.3655, -38.1) centre (3.3655, -37.465) ccw
  arc A62 (2.7305, -37.465) -> (3.3655, -38.1) centre (3.3655, -37.465) ccw
  line L147 (2.7305, -36.703) -> (2.7305, -37.465)
  arc A63 (3.3655, -36.068) -> (2.7305, -36.703) centre (3.3655, -36.703) ccw
  line L148 (-4.5085, -22.3463) -> (-12.7, -14.1548)
  point P0 (-12.7, 3.3655)
  point P1 (-2.7305, 12.7)
  point P2 (-3.3655, -12.7)
  point P3 (-12.7, -2.7305)
  point P4 (12.7, -3.3655)
  point P5 (2.7305, -12.7)
  point P6 (3.3655, 12.7)
  point P7 (12.7, 2.7305)
  point P8 (-3.3655, -12.7)
  point P9 (-12.7, -2.7305)
  point P10 (12.7, -3.3655)
  point P11 (2.7305, -12.7)
  point P12 (3.3655, 12.7)
  point P13 (12.7, 2.7305)
  point P14 (3.3655, -12.7)
  point P15 (3.3655, -12.7)
  point P16 (12.7, -22.6695)
  point P17 (12.7, -22.6695)
  point P18 (-3.3655, -38.1)
  point P19 (-3.3655, -38.1)
  point P20 (-12.7, -28.1305)
  point P21 (-12.7, -28.1305)
  point P22 (12.7, -28.7655)
  point P23 (12.7, -28.7655)
  point P24 (2.7305, -38.1)
  point P25 (2.7305, -38.1)
  point P26 (-2.7305, -12.7)
  point P27 (-12.7, -22.0345)
  dimension "d12" = 5.08
  dimension "d13" = 9.017
  dimension "d14" = 4.5085
  dimension "d15" = 4.5085
  dimension "d16" = 4.5085
  dimension "d17" = 2.032
  dimension "d18" = 1.0033
  dimension "d19" = 135
  dimension "d20" = 9.3345
  dimension "d21" = 2.032
  dimension "d22" = 2.032
  dimension "d23" = 0.635
  dimension "d24" = 9.3345
  dimension "d25" = 360
  dimension "d26" = 360
  dimension "d28" = 16.0655
  dimension "d29" = 0
  dimension "d30" = 25.4
  dimension "d36" = 5.08
  dimension "d37" = 9.017
  dimension "d38" = 4.5085
  dimension "d41" = 2.032
  dimension "d42" = 1.0033
  dimension "d44" = 9.3345
  dimension "d45" = 2.032
  dimension "d47" = 0.635
  dimension "d49" = 360
  dimension "d50" = 360
  dimension "d53" = 25.4
  dimension "d54" = 15.4305
extrude "Extrusion1" add sketch "Sketch1" along normal blind 508 contours L3 L5 L7 L6 L4 L0 | L0 L2 L1 L3 | L30 L6 L33 L32 L2 L0 | L4 L6 A4 L11 A3 L9 | L3 L1 L14 L20 L17 L16 | L8 A2 L12 A1 L7 L5 | L35 A13 L29 A14 L6 L30 | L16 L17 A8 L18 A7 L15 | L22 L28 L25 L24 L1 L2 | L32 L33 A16 L34 A15 L31 | L19 A5 L13 A6 L20 L14 | L20 L137 L89 L91 L148 L138 | L27 A9 L21 A10 L28 L22 | L24 L25 A12 L26 A11 L23 | L20 L141 A51 L136 A50 L140 L137 | L148 L139 A55 L143 A54 L138 | L25 L85 L83 L94 L89 L81 | L81 L75 A32 L77 A52 L25 | L89 L94 L99 L98 L91 | L85 A48 L134 A46 L79 L83 | L91 L98 L110 L108 L114 L112 | L112 L114 A57 L144 A56 L104 | L124 L122 L128 L126 L99 L94 | L116 A40 L106 A38 L108 L110 | L120 A42 L118 A44 L122 L124 | L126 L128 A61 L146 A60 L130
equation "\"d24\" = d20"
properties part number "20 in double rail"
